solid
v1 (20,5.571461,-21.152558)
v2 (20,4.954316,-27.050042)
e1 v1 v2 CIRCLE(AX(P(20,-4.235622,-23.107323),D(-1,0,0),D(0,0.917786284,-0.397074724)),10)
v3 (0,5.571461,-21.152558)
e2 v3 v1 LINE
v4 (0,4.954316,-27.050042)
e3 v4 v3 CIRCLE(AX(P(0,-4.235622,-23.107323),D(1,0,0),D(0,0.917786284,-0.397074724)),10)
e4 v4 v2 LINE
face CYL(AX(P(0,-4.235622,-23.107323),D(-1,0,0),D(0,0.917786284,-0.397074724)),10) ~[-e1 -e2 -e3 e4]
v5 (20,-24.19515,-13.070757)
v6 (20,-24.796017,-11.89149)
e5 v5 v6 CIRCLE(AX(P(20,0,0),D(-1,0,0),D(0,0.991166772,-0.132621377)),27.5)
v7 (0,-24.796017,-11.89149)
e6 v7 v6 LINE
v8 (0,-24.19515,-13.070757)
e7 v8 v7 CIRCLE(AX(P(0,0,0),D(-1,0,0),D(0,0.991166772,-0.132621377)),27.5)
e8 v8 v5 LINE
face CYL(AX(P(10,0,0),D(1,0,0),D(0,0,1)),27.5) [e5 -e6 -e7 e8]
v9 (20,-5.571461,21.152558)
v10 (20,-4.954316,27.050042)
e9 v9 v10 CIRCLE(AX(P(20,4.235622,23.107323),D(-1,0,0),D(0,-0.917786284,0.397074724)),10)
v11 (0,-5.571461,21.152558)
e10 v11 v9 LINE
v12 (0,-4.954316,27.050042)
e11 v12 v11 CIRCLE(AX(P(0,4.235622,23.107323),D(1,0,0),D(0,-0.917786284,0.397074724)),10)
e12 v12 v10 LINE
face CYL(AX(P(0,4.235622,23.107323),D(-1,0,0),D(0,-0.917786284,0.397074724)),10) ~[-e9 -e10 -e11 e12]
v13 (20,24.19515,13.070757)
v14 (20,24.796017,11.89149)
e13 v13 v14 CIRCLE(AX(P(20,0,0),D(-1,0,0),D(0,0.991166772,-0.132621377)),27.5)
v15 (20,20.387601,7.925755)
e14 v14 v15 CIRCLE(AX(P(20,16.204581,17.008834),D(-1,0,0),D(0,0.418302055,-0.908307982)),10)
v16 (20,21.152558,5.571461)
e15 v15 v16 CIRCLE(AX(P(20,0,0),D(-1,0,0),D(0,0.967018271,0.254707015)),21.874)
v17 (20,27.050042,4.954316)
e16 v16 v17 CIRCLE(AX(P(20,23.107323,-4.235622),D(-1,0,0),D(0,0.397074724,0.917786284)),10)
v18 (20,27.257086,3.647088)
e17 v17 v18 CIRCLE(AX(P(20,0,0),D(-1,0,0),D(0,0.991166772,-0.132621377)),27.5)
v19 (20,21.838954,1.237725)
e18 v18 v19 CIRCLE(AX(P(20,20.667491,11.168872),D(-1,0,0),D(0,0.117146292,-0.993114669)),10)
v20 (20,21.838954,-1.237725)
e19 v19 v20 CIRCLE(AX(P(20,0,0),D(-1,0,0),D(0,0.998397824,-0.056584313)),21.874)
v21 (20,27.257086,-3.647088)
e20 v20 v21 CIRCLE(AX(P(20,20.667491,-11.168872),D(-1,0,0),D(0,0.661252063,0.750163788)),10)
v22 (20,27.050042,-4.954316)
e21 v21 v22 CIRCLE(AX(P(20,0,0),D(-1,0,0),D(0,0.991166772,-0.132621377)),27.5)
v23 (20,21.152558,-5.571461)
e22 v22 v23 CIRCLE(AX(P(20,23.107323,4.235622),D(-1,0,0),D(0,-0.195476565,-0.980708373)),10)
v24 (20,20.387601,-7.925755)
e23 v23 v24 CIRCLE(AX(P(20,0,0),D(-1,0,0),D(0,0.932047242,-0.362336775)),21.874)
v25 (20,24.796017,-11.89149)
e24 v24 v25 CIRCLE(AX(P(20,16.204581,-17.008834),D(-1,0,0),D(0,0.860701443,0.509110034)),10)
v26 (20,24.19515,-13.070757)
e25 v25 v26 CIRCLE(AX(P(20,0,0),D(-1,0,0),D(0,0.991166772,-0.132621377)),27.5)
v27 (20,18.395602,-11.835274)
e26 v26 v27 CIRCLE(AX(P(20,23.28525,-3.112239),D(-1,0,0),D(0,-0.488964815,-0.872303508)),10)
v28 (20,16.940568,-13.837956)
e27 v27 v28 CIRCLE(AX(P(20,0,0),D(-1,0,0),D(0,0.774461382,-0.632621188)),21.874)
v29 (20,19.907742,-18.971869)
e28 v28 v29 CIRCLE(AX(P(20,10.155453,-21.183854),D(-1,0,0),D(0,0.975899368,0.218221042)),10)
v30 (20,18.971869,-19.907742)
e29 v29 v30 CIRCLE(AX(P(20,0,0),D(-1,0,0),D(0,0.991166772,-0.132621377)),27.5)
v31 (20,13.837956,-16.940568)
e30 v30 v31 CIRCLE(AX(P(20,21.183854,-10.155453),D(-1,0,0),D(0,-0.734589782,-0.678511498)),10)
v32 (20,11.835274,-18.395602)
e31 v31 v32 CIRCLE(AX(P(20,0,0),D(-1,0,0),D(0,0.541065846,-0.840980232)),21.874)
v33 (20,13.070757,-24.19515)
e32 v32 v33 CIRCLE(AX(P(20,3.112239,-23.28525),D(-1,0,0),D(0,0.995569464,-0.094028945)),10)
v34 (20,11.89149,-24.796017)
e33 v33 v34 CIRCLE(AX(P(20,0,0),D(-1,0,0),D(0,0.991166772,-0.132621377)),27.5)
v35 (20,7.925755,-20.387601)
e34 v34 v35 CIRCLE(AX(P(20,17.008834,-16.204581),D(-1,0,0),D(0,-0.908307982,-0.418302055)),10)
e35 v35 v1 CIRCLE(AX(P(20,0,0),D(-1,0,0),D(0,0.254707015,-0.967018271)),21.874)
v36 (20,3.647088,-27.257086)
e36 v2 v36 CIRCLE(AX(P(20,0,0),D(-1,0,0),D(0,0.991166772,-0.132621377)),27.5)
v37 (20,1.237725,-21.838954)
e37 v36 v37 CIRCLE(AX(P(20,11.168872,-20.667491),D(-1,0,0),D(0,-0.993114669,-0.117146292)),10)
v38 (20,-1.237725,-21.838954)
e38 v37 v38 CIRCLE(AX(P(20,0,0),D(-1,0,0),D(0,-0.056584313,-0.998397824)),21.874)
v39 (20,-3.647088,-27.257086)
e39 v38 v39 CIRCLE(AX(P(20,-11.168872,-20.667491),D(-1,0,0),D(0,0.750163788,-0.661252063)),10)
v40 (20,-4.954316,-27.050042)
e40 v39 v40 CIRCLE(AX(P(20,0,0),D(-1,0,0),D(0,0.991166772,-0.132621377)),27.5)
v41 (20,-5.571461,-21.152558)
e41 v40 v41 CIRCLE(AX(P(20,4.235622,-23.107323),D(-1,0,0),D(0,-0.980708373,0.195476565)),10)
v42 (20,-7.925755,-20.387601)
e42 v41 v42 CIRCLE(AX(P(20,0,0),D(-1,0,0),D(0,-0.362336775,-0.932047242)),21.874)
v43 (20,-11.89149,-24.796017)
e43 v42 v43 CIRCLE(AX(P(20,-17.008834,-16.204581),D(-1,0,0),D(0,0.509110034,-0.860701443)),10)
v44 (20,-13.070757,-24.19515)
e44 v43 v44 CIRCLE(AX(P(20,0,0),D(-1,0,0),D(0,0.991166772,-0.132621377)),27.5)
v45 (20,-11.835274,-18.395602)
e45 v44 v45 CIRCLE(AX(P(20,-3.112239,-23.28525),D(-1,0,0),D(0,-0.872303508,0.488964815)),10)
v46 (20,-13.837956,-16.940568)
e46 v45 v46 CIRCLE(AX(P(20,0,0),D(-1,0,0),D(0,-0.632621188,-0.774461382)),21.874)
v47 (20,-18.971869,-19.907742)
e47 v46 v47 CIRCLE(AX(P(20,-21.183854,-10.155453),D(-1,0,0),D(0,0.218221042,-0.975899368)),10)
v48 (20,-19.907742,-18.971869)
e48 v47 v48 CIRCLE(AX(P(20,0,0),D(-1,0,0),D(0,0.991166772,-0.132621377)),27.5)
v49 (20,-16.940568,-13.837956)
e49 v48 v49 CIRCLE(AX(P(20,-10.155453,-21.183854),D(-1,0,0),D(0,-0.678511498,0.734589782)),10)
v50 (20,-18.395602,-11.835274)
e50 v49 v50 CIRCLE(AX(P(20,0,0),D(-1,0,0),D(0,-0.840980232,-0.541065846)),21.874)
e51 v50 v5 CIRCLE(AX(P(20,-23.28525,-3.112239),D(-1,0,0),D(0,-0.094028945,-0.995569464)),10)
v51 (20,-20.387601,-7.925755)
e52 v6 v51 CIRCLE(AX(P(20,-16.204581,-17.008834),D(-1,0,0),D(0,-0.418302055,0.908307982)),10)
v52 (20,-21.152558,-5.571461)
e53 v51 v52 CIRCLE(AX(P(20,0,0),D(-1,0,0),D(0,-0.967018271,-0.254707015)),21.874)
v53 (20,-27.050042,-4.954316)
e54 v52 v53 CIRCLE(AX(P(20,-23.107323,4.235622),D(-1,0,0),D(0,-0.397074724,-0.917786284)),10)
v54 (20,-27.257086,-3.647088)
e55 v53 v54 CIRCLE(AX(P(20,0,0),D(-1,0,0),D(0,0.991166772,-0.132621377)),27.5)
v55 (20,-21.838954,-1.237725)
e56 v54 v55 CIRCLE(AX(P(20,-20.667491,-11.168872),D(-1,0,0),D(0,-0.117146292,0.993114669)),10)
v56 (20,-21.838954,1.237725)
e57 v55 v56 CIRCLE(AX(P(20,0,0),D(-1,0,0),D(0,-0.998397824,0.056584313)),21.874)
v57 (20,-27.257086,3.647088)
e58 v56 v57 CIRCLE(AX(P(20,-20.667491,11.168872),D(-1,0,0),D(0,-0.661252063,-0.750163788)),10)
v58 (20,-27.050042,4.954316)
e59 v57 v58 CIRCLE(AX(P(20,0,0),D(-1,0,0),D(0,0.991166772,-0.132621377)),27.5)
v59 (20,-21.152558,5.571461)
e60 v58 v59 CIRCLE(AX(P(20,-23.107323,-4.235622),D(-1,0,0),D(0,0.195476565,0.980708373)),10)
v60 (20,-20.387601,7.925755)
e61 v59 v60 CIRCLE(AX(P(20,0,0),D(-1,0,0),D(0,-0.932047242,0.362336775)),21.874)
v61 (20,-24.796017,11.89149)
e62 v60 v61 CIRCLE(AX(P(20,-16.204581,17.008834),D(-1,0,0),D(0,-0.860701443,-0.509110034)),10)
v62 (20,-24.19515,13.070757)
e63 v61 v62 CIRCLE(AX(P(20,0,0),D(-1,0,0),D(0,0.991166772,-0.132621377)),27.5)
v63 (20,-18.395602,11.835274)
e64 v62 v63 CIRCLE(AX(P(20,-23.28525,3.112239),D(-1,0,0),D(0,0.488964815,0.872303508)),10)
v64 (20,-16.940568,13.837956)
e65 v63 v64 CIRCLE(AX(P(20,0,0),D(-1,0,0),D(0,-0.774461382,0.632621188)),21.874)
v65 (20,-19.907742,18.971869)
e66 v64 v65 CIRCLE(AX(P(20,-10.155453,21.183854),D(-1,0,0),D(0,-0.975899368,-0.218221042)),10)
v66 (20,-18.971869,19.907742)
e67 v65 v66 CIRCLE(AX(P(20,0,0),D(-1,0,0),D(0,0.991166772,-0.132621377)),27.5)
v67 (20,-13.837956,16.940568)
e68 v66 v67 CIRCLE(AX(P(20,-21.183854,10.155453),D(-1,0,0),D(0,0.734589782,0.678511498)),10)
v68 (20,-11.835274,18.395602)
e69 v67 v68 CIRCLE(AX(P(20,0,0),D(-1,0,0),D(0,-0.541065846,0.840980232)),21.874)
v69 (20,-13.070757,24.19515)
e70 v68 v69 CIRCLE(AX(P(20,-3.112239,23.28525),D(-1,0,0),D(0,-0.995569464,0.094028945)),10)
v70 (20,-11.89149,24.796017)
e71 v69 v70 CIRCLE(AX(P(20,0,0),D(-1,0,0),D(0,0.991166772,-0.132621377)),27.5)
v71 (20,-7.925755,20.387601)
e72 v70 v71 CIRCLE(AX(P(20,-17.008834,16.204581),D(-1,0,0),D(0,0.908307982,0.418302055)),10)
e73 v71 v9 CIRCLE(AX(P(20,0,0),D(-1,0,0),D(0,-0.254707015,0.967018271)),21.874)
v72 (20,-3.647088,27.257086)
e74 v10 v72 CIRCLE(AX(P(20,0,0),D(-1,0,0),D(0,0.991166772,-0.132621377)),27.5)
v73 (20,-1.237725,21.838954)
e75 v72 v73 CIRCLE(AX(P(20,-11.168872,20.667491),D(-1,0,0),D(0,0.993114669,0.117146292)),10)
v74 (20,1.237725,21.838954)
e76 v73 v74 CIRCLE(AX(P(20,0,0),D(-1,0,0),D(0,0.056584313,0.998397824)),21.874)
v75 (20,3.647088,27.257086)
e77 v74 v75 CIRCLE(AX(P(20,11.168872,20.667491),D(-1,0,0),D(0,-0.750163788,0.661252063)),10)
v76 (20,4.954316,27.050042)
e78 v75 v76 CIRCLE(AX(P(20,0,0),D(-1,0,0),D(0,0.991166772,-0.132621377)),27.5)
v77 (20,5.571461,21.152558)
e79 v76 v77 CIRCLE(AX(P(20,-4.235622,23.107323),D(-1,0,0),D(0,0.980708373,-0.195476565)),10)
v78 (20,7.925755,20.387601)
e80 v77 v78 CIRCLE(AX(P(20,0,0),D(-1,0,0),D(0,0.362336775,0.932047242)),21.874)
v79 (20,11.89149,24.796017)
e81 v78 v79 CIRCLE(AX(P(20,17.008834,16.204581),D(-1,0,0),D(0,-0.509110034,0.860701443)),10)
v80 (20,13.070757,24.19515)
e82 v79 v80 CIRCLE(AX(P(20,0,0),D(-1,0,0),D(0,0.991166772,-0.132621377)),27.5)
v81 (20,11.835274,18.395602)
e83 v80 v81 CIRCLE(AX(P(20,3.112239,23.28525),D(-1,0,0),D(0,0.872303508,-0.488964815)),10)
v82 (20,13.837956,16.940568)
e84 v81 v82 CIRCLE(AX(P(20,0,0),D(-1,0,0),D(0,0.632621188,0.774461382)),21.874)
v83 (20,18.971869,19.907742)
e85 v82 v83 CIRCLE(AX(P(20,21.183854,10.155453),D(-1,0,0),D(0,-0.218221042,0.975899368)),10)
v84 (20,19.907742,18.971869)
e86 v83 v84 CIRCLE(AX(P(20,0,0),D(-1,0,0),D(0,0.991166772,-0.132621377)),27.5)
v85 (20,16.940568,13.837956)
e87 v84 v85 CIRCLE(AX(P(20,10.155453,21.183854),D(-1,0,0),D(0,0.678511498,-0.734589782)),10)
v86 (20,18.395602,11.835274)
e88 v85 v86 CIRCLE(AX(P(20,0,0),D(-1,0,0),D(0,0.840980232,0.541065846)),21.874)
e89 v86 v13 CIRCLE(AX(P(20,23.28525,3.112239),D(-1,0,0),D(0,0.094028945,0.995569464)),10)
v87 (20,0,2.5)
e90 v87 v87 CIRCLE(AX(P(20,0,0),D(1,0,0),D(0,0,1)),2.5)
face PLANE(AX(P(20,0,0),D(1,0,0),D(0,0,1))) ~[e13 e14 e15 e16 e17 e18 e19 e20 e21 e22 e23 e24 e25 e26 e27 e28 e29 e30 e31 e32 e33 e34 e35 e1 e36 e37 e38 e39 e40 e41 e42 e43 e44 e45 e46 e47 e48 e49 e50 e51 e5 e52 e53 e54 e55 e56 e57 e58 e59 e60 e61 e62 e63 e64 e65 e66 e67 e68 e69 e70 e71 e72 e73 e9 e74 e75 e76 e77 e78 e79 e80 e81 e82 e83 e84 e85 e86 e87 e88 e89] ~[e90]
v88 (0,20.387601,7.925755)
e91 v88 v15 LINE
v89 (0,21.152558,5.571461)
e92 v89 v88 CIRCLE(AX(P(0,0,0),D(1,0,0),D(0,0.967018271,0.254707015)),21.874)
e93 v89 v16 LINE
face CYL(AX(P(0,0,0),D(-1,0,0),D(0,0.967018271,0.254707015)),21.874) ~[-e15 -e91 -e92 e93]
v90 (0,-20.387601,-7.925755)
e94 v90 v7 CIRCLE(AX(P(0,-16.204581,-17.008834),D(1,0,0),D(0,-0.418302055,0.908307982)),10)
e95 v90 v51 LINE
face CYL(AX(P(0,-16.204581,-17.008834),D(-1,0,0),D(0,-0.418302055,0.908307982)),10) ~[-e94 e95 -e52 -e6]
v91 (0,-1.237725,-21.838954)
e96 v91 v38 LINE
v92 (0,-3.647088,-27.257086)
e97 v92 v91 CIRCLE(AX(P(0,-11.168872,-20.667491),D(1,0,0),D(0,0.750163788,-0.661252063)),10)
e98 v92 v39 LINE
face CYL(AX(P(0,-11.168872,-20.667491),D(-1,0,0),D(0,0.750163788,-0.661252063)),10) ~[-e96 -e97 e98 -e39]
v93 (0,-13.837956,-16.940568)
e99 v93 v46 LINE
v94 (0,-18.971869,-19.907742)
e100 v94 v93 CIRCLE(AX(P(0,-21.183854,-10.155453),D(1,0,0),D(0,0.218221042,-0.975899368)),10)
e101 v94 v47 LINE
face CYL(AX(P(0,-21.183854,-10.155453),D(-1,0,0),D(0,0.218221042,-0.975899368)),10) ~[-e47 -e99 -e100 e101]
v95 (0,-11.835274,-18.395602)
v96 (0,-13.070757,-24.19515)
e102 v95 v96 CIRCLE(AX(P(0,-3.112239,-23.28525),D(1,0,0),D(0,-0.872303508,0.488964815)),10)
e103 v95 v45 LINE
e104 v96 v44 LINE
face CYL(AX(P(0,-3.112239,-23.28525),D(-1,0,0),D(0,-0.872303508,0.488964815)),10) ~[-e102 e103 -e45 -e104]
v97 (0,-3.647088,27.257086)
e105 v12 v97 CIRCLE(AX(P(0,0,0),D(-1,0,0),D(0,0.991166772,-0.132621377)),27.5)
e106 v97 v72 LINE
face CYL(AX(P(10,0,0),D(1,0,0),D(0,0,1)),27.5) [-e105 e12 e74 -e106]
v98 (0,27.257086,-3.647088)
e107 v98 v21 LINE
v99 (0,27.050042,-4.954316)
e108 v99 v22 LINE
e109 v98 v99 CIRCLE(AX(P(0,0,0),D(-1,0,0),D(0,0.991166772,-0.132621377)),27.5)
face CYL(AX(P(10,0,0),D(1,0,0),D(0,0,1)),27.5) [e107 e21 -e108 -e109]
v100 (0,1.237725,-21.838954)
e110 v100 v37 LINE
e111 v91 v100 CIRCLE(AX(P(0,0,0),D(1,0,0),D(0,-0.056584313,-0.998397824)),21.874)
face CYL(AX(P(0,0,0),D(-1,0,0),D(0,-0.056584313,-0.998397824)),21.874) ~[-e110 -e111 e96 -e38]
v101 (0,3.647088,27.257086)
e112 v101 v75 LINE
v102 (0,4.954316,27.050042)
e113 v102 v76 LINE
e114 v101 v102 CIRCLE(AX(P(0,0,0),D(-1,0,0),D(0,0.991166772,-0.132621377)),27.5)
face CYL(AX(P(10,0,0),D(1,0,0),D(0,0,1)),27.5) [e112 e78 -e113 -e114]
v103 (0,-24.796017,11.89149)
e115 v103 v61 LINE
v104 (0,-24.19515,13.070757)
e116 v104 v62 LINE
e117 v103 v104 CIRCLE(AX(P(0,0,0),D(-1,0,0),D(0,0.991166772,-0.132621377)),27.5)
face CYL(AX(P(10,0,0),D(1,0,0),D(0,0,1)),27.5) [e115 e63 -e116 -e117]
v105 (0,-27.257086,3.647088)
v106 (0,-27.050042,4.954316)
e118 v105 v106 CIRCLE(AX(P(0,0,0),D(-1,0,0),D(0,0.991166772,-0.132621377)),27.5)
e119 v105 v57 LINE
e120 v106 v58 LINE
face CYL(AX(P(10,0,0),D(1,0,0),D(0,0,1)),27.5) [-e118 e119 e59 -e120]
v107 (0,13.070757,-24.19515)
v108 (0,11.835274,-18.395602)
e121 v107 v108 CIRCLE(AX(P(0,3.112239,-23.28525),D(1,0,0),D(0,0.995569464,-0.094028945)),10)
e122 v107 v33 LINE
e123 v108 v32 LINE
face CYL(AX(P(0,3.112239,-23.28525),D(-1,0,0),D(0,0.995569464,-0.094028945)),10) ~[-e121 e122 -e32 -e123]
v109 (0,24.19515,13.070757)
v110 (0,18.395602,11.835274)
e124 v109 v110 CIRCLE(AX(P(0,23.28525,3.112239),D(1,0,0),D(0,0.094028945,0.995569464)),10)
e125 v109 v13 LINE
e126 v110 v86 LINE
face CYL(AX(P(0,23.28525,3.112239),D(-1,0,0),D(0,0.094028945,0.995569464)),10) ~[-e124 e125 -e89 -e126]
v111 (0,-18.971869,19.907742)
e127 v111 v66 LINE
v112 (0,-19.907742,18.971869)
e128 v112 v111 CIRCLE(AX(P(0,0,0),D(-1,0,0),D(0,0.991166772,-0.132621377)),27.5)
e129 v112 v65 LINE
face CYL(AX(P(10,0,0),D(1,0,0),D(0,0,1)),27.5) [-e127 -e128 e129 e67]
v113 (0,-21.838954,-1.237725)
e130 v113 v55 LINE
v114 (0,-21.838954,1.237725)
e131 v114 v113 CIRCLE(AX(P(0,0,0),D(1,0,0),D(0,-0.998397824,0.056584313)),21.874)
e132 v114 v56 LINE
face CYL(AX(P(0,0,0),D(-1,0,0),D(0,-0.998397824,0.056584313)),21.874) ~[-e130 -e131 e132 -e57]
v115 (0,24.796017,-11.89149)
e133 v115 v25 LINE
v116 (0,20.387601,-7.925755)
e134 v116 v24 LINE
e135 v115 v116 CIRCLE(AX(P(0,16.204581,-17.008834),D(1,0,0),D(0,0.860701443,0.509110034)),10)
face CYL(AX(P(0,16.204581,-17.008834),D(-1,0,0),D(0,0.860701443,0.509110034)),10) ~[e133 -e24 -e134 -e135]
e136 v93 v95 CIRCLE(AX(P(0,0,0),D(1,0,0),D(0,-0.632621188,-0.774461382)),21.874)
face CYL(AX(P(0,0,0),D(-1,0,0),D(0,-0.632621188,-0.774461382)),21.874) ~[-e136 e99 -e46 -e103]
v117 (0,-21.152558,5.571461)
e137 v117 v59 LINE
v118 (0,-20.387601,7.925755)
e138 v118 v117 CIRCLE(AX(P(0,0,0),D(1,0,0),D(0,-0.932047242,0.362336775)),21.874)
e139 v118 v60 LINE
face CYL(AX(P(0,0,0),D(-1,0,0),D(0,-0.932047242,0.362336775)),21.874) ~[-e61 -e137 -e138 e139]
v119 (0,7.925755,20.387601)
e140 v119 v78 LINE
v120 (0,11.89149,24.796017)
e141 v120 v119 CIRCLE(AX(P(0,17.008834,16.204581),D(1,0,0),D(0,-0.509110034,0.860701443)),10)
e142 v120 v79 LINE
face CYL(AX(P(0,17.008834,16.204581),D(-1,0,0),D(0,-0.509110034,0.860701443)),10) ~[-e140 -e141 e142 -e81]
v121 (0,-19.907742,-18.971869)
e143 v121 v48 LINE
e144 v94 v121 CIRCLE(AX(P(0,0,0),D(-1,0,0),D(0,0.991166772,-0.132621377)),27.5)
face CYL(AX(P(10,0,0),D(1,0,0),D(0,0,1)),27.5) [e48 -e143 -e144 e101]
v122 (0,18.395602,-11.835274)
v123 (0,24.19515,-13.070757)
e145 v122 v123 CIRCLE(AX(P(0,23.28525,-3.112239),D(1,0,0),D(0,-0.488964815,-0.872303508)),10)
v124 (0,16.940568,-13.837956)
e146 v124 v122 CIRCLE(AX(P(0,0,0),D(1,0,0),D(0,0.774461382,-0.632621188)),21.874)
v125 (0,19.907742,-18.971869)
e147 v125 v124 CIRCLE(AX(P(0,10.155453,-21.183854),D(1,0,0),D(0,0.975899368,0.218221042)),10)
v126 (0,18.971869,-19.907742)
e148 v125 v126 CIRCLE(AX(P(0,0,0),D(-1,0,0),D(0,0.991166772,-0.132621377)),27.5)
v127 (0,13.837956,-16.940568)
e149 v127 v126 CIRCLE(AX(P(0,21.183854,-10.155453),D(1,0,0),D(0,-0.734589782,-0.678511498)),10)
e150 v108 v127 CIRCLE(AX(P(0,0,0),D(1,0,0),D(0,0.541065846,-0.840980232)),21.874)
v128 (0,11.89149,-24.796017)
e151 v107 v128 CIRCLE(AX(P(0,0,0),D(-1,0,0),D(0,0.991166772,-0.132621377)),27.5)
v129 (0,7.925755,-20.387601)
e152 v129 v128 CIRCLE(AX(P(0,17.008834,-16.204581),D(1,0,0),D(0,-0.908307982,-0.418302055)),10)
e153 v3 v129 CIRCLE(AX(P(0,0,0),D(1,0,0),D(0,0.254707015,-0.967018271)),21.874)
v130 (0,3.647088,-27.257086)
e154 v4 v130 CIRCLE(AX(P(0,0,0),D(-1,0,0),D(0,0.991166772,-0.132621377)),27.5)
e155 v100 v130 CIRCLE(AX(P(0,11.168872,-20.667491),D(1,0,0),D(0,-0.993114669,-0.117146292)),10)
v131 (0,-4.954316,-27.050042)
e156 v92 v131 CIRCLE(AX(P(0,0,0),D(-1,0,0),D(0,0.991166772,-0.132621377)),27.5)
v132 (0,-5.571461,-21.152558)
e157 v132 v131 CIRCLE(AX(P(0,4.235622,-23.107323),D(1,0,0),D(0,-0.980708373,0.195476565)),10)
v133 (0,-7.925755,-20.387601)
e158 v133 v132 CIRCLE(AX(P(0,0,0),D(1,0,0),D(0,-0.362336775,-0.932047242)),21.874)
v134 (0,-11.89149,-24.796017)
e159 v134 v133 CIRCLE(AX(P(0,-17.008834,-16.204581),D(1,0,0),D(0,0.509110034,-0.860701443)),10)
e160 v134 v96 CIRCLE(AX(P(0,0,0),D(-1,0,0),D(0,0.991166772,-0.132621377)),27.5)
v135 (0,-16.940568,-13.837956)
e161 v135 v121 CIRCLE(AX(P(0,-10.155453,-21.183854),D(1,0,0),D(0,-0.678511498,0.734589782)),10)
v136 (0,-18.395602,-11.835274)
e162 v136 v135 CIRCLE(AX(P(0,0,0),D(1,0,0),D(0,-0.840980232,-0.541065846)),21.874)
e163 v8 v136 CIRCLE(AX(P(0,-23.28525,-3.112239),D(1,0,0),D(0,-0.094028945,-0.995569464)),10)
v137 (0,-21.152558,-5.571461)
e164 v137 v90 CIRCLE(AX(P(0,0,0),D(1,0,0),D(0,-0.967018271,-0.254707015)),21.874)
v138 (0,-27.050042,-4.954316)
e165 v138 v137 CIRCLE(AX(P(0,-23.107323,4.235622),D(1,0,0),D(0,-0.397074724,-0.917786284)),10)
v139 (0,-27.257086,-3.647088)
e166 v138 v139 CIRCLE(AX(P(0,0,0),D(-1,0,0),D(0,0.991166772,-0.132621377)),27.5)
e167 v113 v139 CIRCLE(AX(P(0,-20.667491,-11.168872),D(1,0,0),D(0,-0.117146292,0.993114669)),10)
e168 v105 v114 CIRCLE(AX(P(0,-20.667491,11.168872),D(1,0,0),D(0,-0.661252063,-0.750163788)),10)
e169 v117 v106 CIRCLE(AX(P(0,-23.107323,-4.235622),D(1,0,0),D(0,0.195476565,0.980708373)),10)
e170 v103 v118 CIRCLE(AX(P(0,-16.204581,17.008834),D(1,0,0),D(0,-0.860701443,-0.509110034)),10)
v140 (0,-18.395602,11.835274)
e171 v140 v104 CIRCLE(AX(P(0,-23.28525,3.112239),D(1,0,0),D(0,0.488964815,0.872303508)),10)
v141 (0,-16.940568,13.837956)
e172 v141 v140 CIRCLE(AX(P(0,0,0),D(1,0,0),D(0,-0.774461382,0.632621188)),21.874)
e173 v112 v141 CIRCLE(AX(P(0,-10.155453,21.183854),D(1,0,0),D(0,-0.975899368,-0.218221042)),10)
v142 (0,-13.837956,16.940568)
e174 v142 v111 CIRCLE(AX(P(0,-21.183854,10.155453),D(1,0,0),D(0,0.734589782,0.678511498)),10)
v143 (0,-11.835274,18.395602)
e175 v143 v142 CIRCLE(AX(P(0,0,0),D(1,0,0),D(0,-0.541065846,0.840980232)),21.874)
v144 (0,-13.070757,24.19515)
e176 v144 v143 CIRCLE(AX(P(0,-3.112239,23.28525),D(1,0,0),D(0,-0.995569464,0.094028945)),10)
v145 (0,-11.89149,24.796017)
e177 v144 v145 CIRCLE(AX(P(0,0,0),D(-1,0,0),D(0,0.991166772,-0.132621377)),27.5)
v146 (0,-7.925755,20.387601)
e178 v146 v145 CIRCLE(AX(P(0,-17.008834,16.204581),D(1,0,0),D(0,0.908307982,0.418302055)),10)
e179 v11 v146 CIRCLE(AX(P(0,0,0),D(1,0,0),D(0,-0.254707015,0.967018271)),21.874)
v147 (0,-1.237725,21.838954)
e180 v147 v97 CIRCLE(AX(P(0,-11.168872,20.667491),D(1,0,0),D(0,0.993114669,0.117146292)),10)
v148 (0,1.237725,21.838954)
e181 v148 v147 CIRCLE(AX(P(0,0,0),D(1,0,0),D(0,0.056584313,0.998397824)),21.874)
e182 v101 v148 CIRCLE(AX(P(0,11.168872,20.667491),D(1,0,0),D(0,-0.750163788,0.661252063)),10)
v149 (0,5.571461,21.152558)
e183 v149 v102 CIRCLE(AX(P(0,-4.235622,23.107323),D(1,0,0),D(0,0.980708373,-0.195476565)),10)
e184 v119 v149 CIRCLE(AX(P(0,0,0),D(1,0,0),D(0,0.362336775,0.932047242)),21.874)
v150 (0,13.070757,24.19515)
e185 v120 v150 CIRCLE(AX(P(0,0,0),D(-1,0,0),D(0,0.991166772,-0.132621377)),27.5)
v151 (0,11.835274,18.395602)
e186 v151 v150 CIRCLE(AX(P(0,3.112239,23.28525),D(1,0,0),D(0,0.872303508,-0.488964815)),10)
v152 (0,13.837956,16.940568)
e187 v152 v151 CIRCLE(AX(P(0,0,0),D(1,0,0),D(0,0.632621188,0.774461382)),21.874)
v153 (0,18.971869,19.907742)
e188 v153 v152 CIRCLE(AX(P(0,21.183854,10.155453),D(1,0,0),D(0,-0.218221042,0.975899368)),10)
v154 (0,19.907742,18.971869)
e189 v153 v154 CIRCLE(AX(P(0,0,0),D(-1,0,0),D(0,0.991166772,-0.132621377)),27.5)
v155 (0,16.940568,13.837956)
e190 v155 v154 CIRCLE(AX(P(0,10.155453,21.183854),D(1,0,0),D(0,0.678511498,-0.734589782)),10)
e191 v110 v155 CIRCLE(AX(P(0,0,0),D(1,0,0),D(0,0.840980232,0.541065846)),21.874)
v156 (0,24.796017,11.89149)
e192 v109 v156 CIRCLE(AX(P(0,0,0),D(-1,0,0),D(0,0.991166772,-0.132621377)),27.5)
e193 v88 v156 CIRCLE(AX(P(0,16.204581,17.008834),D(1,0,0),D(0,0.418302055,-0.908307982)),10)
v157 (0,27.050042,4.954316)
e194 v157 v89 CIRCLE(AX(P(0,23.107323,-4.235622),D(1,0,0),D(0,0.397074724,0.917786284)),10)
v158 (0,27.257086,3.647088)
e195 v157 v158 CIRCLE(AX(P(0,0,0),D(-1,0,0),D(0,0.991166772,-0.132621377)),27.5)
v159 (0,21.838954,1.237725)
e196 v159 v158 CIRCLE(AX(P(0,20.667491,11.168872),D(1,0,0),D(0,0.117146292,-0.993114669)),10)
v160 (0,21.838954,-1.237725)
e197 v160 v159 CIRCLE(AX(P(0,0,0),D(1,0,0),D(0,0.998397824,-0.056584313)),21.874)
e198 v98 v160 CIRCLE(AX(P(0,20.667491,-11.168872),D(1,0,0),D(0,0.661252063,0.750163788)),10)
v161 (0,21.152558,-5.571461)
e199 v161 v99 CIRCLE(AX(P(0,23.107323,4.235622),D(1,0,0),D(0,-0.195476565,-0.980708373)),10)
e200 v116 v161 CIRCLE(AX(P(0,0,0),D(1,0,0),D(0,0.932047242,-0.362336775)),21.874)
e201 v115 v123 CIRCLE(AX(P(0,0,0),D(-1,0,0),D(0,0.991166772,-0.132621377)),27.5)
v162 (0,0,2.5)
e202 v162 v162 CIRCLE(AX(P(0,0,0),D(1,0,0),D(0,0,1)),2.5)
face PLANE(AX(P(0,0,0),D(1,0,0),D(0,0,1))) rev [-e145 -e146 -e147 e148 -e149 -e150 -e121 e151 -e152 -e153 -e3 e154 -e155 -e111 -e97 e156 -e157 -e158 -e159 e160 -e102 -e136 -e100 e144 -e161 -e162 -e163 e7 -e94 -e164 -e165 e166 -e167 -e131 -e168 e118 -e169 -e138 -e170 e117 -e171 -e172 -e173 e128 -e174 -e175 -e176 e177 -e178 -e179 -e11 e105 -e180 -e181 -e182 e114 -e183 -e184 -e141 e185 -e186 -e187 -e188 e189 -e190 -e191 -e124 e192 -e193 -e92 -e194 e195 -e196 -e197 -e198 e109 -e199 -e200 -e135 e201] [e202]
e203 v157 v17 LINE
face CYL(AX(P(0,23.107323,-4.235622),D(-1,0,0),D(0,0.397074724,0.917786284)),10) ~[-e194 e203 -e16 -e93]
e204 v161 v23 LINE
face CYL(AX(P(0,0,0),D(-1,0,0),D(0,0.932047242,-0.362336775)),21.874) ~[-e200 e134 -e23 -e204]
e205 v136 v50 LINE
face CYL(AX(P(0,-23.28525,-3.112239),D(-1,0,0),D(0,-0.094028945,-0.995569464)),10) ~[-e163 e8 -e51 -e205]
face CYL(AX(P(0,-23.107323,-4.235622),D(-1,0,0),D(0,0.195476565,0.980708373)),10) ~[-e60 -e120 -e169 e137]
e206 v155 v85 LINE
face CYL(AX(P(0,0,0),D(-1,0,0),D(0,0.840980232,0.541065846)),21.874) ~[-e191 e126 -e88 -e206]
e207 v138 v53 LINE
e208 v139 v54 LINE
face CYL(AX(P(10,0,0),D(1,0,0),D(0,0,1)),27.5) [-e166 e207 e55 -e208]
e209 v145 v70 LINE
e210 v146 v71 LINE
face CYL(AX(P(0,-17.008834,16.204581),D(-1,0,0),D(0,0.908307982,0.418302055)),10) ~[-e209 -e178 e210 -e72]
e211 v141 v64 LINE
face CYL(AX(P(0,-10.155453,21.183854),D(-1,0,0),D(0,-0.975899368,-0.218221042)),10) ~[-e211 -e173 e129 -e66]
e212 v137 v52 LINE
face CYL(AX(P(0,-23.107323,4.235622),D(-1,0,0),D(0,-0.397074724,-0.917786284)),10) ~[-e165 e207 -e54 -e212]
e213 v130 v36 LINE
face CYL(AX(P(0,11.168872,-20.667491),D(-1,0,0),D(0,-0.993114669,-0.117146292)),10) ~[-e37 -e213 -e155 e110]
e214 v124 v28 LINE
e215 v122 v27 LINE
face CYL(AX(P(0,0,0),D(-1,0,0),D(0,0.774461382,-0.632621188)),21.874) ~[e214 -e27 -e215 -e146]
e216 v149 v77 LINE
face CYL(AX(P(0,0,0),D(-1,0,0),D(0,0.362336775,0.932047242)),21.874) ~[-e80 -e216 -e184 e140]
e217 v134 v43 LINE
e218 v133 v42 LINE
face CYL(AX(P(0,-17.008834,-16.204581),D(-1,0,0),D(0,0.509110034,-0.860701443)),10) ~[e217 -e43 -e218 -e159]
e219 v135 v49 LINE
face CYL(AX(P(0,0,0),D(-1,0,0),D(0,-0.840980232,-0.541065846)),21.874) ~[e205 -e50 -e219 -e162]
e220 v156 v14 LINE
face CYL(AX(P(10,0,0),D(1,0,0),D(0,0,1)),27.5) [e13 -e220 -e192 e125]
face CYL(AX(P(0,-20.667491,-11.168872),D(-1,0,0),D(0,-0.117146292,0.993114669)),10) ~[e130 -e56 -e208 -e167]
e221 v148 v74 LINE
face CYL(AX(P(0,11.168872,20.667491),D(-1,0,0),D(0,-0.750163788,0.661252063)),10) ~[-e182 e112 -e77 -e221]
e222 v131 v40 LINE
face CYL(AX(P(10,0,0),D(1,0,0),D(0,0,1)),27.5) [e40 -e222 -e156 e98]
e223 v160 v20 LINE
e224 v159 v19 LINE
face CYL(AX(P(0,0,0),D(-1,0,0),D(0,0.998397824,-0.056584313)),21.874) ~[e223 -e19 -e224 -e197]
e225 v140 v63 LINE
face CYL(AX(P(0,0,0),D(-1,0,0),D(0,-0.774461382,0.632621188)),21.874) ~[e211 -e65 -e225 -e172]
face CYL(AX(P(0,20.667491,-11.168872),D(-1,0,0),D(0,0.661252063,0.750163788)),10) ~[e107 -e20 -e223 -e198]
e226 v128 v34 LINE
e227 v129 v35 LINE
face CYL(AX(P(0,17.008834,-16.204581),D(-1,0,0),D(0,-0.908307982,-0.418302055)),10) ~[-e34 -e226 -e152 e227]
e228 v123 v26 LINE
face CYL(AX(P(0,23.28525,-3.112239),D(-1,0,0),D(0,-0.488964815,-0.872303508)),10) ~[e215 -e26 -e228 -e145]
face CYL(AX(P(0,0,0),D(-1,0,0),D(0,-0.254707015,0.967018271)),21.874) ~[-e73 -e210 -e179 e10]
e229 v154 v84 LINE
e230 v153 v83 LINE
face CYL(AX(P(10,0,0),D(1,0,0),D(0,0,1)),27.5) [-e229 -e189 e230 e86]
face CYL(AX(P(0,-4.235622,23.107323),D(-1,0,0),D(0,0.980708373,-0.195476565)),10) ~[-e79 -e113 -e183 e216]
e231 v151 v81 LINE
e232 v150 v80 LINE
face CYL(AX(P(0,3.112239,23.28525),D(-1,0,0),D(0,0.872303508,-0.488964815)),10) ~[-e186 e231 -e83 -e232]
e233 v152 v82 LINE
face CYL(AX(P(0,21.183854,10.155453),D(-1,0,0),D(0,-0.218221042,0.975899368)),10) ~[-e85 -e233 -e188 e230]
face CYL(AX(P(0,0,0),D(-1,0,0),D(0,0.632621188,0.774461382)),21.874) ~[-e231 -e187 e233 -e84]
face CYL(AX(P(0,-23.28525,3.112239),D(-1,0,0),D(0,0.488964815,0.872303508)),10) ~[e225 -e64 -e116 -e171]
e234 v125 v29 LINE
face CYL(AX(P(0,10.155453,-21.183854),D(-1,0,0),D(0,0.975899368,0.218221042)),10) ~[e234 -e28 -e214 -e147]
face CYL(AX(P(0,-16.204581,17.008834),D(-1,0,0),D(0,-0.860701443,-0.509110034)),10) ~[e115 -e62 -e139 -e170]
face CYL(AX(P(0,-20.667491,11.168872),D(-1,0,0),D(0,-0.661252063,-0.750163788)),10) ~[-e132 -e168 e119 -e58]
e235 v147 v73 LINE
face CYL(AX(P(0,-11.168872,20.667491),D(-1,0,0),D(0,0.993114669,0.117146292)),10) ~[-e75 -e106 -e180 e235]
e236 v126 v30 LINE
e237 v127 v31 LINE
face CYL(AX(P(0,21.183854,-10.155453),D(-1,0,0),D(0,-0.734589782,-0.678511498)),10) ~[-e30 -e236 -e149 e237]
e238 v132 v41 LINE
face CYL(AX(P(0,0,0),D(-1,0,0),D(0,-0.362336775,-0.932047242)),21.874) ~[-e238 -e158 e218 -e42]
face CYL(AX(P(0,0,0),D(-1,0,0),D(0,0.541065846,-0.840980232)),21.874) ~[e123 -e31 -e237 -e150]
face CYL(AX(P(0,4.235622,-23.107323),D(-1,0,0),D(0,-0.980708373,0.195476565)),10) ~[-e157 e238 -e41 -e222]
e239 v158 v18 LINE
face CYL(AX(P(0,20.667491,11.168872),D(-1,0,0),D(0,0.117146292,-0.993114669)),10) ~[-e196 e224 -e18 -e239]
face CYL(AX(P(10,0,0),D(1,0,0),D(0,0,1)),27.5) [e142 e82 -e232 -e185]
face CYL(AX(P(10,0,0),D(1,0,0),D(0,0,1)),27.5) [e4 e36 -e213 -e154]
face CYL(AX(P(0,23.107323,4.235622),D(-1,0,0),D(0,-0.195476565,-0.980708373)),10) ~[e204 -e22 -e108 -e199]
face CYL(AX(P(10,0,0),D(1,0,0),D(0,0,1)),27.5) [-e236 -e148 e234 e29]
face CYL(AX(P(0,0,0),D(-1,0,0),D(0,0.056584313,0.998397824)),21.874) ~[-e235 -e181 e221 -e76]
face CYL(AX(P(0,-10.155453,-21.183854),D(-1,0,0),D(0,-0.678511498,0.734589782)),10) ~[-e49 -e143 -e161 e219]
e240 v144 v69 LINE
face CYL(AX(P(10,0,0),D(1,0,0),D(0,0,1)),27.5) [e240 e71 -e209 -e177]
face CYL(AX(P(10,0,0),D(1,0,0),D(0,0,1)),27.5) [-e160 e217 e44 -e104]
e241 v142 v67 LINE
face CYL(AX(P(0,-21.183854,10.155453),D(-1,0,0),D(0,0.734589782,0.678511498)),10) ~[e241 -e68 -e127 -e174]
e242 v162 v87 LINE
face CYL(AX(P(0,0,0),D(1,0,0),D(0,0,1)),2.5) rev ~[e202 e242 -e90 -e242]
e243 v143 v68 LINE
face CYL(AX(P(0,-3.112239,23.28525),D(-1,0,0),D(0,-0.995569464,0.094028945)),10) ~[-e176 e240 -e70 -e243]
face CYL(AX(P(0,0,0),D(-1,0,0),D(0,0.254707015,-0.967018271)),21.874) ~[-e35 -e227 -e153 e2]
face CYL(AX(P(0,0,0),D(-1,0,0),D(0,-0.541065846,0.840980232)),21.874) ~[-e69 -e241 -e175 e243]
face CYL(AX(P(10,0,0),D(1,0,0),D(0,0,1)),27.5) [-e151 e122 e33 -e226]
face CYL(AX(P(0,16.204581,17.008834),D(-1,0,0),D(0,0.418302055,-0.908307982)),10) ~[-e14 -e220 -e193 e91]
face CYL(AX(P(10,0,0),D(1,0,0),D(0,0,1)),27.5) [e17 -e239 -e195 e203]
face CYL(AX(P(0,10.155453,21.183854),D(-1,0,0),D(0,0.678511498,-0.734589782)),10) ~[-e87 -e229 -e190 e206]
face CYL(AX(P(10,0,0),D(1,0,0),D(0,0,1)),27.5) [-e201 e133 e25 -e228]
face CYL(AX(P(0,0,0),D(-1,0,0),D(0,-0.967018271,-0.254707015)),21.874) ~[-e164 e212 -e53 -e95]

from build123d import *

# Parameters (mm, degrees)
BASPROSKE_W     = 20
BASPROSKE_H     = 27.5
TOOTHCUT_DEPTH  = 44.732139211
TEETHCUTS_COUNT = 20
TEETHCUTS_ANGLE = 342
BORSKE_R        = 2.5
BORE_DEPTH      = 50.0000508


with BuildPart() as part:
    # BasProSke → Base-Revolve (revolve)
    with BuildSketch(Plane(origin=(0, 0, 0), x_dir=(1, 0, 0), z_dir=(0, 1, 0)), mode=Mode.PRIVATE) as base_revolve_sk:
        with Locations((10, 13.75)):
            Rectangle(BASPROSKE_W, BASPROSKE_H)
    revolve(base_revolve_sk.sketch.rotate(Axis((-10, 0, 0), (1, 0, 0)), 180), axis=Axis((-10, 0, 0), (1, 0, 0)))

    # TooCutSke → ToothCut (cut, through all)
    with BuildSketch(Plane(origin=(0, 0, 0), x_dir=(0, 0, -1), z_dir=(1, 0, 0))):
        with BuildLine():
            ThreePointArc((1.237725267, 21.838954008), (0, 21.874), (-1.237725267, 21.838954008))
            ThreePointArc((-1.237725267, 21.838954008), (-2.037783758, 24.744650423), (-3.667234079, 27.280011719))
            ThreePointArc((-3.667234079, 27.280011719), (0, 27.5254), (3.667234079, 27.280011719))
            ThreePointArc((3.667234079, 27.280011719), (2.037783758, 24.744650423), (1.237725267, 21.838954008))
        make_face()
    toothcut = extrude(amount=TOOTHCUT_DEPTH, mode=Mode.SUBTRACT)

    # TeethCuts: ToothCut ×20 about axis
    teethcuts_axis = Axis((-10, 0, 0), (1, 0, 0))
    for i in range(1, TEETHCUTS_COUNT):
        add(toothcut.rotate(teethcuts_axis, i * TEETHCUTS_ANGLE / (TEETHCUTS_COUNT - 1)), mode=Mode.SUBTRACT)

    # BorSke → Bore (cut, symmetric)
    with BuildSketch(Plane(origin=(0, 0, 0), x_dir=(0, 0, -1), z_dir=(1, 0, 0))):
        with Locations(Location((0, 0, 0), (0, 0, 180))):
            Circle(BORSKE_R)
    extrude(amount=BORE_DEPTH, both=True, mode=Mode.SUBTRACT)


solid = part.part
